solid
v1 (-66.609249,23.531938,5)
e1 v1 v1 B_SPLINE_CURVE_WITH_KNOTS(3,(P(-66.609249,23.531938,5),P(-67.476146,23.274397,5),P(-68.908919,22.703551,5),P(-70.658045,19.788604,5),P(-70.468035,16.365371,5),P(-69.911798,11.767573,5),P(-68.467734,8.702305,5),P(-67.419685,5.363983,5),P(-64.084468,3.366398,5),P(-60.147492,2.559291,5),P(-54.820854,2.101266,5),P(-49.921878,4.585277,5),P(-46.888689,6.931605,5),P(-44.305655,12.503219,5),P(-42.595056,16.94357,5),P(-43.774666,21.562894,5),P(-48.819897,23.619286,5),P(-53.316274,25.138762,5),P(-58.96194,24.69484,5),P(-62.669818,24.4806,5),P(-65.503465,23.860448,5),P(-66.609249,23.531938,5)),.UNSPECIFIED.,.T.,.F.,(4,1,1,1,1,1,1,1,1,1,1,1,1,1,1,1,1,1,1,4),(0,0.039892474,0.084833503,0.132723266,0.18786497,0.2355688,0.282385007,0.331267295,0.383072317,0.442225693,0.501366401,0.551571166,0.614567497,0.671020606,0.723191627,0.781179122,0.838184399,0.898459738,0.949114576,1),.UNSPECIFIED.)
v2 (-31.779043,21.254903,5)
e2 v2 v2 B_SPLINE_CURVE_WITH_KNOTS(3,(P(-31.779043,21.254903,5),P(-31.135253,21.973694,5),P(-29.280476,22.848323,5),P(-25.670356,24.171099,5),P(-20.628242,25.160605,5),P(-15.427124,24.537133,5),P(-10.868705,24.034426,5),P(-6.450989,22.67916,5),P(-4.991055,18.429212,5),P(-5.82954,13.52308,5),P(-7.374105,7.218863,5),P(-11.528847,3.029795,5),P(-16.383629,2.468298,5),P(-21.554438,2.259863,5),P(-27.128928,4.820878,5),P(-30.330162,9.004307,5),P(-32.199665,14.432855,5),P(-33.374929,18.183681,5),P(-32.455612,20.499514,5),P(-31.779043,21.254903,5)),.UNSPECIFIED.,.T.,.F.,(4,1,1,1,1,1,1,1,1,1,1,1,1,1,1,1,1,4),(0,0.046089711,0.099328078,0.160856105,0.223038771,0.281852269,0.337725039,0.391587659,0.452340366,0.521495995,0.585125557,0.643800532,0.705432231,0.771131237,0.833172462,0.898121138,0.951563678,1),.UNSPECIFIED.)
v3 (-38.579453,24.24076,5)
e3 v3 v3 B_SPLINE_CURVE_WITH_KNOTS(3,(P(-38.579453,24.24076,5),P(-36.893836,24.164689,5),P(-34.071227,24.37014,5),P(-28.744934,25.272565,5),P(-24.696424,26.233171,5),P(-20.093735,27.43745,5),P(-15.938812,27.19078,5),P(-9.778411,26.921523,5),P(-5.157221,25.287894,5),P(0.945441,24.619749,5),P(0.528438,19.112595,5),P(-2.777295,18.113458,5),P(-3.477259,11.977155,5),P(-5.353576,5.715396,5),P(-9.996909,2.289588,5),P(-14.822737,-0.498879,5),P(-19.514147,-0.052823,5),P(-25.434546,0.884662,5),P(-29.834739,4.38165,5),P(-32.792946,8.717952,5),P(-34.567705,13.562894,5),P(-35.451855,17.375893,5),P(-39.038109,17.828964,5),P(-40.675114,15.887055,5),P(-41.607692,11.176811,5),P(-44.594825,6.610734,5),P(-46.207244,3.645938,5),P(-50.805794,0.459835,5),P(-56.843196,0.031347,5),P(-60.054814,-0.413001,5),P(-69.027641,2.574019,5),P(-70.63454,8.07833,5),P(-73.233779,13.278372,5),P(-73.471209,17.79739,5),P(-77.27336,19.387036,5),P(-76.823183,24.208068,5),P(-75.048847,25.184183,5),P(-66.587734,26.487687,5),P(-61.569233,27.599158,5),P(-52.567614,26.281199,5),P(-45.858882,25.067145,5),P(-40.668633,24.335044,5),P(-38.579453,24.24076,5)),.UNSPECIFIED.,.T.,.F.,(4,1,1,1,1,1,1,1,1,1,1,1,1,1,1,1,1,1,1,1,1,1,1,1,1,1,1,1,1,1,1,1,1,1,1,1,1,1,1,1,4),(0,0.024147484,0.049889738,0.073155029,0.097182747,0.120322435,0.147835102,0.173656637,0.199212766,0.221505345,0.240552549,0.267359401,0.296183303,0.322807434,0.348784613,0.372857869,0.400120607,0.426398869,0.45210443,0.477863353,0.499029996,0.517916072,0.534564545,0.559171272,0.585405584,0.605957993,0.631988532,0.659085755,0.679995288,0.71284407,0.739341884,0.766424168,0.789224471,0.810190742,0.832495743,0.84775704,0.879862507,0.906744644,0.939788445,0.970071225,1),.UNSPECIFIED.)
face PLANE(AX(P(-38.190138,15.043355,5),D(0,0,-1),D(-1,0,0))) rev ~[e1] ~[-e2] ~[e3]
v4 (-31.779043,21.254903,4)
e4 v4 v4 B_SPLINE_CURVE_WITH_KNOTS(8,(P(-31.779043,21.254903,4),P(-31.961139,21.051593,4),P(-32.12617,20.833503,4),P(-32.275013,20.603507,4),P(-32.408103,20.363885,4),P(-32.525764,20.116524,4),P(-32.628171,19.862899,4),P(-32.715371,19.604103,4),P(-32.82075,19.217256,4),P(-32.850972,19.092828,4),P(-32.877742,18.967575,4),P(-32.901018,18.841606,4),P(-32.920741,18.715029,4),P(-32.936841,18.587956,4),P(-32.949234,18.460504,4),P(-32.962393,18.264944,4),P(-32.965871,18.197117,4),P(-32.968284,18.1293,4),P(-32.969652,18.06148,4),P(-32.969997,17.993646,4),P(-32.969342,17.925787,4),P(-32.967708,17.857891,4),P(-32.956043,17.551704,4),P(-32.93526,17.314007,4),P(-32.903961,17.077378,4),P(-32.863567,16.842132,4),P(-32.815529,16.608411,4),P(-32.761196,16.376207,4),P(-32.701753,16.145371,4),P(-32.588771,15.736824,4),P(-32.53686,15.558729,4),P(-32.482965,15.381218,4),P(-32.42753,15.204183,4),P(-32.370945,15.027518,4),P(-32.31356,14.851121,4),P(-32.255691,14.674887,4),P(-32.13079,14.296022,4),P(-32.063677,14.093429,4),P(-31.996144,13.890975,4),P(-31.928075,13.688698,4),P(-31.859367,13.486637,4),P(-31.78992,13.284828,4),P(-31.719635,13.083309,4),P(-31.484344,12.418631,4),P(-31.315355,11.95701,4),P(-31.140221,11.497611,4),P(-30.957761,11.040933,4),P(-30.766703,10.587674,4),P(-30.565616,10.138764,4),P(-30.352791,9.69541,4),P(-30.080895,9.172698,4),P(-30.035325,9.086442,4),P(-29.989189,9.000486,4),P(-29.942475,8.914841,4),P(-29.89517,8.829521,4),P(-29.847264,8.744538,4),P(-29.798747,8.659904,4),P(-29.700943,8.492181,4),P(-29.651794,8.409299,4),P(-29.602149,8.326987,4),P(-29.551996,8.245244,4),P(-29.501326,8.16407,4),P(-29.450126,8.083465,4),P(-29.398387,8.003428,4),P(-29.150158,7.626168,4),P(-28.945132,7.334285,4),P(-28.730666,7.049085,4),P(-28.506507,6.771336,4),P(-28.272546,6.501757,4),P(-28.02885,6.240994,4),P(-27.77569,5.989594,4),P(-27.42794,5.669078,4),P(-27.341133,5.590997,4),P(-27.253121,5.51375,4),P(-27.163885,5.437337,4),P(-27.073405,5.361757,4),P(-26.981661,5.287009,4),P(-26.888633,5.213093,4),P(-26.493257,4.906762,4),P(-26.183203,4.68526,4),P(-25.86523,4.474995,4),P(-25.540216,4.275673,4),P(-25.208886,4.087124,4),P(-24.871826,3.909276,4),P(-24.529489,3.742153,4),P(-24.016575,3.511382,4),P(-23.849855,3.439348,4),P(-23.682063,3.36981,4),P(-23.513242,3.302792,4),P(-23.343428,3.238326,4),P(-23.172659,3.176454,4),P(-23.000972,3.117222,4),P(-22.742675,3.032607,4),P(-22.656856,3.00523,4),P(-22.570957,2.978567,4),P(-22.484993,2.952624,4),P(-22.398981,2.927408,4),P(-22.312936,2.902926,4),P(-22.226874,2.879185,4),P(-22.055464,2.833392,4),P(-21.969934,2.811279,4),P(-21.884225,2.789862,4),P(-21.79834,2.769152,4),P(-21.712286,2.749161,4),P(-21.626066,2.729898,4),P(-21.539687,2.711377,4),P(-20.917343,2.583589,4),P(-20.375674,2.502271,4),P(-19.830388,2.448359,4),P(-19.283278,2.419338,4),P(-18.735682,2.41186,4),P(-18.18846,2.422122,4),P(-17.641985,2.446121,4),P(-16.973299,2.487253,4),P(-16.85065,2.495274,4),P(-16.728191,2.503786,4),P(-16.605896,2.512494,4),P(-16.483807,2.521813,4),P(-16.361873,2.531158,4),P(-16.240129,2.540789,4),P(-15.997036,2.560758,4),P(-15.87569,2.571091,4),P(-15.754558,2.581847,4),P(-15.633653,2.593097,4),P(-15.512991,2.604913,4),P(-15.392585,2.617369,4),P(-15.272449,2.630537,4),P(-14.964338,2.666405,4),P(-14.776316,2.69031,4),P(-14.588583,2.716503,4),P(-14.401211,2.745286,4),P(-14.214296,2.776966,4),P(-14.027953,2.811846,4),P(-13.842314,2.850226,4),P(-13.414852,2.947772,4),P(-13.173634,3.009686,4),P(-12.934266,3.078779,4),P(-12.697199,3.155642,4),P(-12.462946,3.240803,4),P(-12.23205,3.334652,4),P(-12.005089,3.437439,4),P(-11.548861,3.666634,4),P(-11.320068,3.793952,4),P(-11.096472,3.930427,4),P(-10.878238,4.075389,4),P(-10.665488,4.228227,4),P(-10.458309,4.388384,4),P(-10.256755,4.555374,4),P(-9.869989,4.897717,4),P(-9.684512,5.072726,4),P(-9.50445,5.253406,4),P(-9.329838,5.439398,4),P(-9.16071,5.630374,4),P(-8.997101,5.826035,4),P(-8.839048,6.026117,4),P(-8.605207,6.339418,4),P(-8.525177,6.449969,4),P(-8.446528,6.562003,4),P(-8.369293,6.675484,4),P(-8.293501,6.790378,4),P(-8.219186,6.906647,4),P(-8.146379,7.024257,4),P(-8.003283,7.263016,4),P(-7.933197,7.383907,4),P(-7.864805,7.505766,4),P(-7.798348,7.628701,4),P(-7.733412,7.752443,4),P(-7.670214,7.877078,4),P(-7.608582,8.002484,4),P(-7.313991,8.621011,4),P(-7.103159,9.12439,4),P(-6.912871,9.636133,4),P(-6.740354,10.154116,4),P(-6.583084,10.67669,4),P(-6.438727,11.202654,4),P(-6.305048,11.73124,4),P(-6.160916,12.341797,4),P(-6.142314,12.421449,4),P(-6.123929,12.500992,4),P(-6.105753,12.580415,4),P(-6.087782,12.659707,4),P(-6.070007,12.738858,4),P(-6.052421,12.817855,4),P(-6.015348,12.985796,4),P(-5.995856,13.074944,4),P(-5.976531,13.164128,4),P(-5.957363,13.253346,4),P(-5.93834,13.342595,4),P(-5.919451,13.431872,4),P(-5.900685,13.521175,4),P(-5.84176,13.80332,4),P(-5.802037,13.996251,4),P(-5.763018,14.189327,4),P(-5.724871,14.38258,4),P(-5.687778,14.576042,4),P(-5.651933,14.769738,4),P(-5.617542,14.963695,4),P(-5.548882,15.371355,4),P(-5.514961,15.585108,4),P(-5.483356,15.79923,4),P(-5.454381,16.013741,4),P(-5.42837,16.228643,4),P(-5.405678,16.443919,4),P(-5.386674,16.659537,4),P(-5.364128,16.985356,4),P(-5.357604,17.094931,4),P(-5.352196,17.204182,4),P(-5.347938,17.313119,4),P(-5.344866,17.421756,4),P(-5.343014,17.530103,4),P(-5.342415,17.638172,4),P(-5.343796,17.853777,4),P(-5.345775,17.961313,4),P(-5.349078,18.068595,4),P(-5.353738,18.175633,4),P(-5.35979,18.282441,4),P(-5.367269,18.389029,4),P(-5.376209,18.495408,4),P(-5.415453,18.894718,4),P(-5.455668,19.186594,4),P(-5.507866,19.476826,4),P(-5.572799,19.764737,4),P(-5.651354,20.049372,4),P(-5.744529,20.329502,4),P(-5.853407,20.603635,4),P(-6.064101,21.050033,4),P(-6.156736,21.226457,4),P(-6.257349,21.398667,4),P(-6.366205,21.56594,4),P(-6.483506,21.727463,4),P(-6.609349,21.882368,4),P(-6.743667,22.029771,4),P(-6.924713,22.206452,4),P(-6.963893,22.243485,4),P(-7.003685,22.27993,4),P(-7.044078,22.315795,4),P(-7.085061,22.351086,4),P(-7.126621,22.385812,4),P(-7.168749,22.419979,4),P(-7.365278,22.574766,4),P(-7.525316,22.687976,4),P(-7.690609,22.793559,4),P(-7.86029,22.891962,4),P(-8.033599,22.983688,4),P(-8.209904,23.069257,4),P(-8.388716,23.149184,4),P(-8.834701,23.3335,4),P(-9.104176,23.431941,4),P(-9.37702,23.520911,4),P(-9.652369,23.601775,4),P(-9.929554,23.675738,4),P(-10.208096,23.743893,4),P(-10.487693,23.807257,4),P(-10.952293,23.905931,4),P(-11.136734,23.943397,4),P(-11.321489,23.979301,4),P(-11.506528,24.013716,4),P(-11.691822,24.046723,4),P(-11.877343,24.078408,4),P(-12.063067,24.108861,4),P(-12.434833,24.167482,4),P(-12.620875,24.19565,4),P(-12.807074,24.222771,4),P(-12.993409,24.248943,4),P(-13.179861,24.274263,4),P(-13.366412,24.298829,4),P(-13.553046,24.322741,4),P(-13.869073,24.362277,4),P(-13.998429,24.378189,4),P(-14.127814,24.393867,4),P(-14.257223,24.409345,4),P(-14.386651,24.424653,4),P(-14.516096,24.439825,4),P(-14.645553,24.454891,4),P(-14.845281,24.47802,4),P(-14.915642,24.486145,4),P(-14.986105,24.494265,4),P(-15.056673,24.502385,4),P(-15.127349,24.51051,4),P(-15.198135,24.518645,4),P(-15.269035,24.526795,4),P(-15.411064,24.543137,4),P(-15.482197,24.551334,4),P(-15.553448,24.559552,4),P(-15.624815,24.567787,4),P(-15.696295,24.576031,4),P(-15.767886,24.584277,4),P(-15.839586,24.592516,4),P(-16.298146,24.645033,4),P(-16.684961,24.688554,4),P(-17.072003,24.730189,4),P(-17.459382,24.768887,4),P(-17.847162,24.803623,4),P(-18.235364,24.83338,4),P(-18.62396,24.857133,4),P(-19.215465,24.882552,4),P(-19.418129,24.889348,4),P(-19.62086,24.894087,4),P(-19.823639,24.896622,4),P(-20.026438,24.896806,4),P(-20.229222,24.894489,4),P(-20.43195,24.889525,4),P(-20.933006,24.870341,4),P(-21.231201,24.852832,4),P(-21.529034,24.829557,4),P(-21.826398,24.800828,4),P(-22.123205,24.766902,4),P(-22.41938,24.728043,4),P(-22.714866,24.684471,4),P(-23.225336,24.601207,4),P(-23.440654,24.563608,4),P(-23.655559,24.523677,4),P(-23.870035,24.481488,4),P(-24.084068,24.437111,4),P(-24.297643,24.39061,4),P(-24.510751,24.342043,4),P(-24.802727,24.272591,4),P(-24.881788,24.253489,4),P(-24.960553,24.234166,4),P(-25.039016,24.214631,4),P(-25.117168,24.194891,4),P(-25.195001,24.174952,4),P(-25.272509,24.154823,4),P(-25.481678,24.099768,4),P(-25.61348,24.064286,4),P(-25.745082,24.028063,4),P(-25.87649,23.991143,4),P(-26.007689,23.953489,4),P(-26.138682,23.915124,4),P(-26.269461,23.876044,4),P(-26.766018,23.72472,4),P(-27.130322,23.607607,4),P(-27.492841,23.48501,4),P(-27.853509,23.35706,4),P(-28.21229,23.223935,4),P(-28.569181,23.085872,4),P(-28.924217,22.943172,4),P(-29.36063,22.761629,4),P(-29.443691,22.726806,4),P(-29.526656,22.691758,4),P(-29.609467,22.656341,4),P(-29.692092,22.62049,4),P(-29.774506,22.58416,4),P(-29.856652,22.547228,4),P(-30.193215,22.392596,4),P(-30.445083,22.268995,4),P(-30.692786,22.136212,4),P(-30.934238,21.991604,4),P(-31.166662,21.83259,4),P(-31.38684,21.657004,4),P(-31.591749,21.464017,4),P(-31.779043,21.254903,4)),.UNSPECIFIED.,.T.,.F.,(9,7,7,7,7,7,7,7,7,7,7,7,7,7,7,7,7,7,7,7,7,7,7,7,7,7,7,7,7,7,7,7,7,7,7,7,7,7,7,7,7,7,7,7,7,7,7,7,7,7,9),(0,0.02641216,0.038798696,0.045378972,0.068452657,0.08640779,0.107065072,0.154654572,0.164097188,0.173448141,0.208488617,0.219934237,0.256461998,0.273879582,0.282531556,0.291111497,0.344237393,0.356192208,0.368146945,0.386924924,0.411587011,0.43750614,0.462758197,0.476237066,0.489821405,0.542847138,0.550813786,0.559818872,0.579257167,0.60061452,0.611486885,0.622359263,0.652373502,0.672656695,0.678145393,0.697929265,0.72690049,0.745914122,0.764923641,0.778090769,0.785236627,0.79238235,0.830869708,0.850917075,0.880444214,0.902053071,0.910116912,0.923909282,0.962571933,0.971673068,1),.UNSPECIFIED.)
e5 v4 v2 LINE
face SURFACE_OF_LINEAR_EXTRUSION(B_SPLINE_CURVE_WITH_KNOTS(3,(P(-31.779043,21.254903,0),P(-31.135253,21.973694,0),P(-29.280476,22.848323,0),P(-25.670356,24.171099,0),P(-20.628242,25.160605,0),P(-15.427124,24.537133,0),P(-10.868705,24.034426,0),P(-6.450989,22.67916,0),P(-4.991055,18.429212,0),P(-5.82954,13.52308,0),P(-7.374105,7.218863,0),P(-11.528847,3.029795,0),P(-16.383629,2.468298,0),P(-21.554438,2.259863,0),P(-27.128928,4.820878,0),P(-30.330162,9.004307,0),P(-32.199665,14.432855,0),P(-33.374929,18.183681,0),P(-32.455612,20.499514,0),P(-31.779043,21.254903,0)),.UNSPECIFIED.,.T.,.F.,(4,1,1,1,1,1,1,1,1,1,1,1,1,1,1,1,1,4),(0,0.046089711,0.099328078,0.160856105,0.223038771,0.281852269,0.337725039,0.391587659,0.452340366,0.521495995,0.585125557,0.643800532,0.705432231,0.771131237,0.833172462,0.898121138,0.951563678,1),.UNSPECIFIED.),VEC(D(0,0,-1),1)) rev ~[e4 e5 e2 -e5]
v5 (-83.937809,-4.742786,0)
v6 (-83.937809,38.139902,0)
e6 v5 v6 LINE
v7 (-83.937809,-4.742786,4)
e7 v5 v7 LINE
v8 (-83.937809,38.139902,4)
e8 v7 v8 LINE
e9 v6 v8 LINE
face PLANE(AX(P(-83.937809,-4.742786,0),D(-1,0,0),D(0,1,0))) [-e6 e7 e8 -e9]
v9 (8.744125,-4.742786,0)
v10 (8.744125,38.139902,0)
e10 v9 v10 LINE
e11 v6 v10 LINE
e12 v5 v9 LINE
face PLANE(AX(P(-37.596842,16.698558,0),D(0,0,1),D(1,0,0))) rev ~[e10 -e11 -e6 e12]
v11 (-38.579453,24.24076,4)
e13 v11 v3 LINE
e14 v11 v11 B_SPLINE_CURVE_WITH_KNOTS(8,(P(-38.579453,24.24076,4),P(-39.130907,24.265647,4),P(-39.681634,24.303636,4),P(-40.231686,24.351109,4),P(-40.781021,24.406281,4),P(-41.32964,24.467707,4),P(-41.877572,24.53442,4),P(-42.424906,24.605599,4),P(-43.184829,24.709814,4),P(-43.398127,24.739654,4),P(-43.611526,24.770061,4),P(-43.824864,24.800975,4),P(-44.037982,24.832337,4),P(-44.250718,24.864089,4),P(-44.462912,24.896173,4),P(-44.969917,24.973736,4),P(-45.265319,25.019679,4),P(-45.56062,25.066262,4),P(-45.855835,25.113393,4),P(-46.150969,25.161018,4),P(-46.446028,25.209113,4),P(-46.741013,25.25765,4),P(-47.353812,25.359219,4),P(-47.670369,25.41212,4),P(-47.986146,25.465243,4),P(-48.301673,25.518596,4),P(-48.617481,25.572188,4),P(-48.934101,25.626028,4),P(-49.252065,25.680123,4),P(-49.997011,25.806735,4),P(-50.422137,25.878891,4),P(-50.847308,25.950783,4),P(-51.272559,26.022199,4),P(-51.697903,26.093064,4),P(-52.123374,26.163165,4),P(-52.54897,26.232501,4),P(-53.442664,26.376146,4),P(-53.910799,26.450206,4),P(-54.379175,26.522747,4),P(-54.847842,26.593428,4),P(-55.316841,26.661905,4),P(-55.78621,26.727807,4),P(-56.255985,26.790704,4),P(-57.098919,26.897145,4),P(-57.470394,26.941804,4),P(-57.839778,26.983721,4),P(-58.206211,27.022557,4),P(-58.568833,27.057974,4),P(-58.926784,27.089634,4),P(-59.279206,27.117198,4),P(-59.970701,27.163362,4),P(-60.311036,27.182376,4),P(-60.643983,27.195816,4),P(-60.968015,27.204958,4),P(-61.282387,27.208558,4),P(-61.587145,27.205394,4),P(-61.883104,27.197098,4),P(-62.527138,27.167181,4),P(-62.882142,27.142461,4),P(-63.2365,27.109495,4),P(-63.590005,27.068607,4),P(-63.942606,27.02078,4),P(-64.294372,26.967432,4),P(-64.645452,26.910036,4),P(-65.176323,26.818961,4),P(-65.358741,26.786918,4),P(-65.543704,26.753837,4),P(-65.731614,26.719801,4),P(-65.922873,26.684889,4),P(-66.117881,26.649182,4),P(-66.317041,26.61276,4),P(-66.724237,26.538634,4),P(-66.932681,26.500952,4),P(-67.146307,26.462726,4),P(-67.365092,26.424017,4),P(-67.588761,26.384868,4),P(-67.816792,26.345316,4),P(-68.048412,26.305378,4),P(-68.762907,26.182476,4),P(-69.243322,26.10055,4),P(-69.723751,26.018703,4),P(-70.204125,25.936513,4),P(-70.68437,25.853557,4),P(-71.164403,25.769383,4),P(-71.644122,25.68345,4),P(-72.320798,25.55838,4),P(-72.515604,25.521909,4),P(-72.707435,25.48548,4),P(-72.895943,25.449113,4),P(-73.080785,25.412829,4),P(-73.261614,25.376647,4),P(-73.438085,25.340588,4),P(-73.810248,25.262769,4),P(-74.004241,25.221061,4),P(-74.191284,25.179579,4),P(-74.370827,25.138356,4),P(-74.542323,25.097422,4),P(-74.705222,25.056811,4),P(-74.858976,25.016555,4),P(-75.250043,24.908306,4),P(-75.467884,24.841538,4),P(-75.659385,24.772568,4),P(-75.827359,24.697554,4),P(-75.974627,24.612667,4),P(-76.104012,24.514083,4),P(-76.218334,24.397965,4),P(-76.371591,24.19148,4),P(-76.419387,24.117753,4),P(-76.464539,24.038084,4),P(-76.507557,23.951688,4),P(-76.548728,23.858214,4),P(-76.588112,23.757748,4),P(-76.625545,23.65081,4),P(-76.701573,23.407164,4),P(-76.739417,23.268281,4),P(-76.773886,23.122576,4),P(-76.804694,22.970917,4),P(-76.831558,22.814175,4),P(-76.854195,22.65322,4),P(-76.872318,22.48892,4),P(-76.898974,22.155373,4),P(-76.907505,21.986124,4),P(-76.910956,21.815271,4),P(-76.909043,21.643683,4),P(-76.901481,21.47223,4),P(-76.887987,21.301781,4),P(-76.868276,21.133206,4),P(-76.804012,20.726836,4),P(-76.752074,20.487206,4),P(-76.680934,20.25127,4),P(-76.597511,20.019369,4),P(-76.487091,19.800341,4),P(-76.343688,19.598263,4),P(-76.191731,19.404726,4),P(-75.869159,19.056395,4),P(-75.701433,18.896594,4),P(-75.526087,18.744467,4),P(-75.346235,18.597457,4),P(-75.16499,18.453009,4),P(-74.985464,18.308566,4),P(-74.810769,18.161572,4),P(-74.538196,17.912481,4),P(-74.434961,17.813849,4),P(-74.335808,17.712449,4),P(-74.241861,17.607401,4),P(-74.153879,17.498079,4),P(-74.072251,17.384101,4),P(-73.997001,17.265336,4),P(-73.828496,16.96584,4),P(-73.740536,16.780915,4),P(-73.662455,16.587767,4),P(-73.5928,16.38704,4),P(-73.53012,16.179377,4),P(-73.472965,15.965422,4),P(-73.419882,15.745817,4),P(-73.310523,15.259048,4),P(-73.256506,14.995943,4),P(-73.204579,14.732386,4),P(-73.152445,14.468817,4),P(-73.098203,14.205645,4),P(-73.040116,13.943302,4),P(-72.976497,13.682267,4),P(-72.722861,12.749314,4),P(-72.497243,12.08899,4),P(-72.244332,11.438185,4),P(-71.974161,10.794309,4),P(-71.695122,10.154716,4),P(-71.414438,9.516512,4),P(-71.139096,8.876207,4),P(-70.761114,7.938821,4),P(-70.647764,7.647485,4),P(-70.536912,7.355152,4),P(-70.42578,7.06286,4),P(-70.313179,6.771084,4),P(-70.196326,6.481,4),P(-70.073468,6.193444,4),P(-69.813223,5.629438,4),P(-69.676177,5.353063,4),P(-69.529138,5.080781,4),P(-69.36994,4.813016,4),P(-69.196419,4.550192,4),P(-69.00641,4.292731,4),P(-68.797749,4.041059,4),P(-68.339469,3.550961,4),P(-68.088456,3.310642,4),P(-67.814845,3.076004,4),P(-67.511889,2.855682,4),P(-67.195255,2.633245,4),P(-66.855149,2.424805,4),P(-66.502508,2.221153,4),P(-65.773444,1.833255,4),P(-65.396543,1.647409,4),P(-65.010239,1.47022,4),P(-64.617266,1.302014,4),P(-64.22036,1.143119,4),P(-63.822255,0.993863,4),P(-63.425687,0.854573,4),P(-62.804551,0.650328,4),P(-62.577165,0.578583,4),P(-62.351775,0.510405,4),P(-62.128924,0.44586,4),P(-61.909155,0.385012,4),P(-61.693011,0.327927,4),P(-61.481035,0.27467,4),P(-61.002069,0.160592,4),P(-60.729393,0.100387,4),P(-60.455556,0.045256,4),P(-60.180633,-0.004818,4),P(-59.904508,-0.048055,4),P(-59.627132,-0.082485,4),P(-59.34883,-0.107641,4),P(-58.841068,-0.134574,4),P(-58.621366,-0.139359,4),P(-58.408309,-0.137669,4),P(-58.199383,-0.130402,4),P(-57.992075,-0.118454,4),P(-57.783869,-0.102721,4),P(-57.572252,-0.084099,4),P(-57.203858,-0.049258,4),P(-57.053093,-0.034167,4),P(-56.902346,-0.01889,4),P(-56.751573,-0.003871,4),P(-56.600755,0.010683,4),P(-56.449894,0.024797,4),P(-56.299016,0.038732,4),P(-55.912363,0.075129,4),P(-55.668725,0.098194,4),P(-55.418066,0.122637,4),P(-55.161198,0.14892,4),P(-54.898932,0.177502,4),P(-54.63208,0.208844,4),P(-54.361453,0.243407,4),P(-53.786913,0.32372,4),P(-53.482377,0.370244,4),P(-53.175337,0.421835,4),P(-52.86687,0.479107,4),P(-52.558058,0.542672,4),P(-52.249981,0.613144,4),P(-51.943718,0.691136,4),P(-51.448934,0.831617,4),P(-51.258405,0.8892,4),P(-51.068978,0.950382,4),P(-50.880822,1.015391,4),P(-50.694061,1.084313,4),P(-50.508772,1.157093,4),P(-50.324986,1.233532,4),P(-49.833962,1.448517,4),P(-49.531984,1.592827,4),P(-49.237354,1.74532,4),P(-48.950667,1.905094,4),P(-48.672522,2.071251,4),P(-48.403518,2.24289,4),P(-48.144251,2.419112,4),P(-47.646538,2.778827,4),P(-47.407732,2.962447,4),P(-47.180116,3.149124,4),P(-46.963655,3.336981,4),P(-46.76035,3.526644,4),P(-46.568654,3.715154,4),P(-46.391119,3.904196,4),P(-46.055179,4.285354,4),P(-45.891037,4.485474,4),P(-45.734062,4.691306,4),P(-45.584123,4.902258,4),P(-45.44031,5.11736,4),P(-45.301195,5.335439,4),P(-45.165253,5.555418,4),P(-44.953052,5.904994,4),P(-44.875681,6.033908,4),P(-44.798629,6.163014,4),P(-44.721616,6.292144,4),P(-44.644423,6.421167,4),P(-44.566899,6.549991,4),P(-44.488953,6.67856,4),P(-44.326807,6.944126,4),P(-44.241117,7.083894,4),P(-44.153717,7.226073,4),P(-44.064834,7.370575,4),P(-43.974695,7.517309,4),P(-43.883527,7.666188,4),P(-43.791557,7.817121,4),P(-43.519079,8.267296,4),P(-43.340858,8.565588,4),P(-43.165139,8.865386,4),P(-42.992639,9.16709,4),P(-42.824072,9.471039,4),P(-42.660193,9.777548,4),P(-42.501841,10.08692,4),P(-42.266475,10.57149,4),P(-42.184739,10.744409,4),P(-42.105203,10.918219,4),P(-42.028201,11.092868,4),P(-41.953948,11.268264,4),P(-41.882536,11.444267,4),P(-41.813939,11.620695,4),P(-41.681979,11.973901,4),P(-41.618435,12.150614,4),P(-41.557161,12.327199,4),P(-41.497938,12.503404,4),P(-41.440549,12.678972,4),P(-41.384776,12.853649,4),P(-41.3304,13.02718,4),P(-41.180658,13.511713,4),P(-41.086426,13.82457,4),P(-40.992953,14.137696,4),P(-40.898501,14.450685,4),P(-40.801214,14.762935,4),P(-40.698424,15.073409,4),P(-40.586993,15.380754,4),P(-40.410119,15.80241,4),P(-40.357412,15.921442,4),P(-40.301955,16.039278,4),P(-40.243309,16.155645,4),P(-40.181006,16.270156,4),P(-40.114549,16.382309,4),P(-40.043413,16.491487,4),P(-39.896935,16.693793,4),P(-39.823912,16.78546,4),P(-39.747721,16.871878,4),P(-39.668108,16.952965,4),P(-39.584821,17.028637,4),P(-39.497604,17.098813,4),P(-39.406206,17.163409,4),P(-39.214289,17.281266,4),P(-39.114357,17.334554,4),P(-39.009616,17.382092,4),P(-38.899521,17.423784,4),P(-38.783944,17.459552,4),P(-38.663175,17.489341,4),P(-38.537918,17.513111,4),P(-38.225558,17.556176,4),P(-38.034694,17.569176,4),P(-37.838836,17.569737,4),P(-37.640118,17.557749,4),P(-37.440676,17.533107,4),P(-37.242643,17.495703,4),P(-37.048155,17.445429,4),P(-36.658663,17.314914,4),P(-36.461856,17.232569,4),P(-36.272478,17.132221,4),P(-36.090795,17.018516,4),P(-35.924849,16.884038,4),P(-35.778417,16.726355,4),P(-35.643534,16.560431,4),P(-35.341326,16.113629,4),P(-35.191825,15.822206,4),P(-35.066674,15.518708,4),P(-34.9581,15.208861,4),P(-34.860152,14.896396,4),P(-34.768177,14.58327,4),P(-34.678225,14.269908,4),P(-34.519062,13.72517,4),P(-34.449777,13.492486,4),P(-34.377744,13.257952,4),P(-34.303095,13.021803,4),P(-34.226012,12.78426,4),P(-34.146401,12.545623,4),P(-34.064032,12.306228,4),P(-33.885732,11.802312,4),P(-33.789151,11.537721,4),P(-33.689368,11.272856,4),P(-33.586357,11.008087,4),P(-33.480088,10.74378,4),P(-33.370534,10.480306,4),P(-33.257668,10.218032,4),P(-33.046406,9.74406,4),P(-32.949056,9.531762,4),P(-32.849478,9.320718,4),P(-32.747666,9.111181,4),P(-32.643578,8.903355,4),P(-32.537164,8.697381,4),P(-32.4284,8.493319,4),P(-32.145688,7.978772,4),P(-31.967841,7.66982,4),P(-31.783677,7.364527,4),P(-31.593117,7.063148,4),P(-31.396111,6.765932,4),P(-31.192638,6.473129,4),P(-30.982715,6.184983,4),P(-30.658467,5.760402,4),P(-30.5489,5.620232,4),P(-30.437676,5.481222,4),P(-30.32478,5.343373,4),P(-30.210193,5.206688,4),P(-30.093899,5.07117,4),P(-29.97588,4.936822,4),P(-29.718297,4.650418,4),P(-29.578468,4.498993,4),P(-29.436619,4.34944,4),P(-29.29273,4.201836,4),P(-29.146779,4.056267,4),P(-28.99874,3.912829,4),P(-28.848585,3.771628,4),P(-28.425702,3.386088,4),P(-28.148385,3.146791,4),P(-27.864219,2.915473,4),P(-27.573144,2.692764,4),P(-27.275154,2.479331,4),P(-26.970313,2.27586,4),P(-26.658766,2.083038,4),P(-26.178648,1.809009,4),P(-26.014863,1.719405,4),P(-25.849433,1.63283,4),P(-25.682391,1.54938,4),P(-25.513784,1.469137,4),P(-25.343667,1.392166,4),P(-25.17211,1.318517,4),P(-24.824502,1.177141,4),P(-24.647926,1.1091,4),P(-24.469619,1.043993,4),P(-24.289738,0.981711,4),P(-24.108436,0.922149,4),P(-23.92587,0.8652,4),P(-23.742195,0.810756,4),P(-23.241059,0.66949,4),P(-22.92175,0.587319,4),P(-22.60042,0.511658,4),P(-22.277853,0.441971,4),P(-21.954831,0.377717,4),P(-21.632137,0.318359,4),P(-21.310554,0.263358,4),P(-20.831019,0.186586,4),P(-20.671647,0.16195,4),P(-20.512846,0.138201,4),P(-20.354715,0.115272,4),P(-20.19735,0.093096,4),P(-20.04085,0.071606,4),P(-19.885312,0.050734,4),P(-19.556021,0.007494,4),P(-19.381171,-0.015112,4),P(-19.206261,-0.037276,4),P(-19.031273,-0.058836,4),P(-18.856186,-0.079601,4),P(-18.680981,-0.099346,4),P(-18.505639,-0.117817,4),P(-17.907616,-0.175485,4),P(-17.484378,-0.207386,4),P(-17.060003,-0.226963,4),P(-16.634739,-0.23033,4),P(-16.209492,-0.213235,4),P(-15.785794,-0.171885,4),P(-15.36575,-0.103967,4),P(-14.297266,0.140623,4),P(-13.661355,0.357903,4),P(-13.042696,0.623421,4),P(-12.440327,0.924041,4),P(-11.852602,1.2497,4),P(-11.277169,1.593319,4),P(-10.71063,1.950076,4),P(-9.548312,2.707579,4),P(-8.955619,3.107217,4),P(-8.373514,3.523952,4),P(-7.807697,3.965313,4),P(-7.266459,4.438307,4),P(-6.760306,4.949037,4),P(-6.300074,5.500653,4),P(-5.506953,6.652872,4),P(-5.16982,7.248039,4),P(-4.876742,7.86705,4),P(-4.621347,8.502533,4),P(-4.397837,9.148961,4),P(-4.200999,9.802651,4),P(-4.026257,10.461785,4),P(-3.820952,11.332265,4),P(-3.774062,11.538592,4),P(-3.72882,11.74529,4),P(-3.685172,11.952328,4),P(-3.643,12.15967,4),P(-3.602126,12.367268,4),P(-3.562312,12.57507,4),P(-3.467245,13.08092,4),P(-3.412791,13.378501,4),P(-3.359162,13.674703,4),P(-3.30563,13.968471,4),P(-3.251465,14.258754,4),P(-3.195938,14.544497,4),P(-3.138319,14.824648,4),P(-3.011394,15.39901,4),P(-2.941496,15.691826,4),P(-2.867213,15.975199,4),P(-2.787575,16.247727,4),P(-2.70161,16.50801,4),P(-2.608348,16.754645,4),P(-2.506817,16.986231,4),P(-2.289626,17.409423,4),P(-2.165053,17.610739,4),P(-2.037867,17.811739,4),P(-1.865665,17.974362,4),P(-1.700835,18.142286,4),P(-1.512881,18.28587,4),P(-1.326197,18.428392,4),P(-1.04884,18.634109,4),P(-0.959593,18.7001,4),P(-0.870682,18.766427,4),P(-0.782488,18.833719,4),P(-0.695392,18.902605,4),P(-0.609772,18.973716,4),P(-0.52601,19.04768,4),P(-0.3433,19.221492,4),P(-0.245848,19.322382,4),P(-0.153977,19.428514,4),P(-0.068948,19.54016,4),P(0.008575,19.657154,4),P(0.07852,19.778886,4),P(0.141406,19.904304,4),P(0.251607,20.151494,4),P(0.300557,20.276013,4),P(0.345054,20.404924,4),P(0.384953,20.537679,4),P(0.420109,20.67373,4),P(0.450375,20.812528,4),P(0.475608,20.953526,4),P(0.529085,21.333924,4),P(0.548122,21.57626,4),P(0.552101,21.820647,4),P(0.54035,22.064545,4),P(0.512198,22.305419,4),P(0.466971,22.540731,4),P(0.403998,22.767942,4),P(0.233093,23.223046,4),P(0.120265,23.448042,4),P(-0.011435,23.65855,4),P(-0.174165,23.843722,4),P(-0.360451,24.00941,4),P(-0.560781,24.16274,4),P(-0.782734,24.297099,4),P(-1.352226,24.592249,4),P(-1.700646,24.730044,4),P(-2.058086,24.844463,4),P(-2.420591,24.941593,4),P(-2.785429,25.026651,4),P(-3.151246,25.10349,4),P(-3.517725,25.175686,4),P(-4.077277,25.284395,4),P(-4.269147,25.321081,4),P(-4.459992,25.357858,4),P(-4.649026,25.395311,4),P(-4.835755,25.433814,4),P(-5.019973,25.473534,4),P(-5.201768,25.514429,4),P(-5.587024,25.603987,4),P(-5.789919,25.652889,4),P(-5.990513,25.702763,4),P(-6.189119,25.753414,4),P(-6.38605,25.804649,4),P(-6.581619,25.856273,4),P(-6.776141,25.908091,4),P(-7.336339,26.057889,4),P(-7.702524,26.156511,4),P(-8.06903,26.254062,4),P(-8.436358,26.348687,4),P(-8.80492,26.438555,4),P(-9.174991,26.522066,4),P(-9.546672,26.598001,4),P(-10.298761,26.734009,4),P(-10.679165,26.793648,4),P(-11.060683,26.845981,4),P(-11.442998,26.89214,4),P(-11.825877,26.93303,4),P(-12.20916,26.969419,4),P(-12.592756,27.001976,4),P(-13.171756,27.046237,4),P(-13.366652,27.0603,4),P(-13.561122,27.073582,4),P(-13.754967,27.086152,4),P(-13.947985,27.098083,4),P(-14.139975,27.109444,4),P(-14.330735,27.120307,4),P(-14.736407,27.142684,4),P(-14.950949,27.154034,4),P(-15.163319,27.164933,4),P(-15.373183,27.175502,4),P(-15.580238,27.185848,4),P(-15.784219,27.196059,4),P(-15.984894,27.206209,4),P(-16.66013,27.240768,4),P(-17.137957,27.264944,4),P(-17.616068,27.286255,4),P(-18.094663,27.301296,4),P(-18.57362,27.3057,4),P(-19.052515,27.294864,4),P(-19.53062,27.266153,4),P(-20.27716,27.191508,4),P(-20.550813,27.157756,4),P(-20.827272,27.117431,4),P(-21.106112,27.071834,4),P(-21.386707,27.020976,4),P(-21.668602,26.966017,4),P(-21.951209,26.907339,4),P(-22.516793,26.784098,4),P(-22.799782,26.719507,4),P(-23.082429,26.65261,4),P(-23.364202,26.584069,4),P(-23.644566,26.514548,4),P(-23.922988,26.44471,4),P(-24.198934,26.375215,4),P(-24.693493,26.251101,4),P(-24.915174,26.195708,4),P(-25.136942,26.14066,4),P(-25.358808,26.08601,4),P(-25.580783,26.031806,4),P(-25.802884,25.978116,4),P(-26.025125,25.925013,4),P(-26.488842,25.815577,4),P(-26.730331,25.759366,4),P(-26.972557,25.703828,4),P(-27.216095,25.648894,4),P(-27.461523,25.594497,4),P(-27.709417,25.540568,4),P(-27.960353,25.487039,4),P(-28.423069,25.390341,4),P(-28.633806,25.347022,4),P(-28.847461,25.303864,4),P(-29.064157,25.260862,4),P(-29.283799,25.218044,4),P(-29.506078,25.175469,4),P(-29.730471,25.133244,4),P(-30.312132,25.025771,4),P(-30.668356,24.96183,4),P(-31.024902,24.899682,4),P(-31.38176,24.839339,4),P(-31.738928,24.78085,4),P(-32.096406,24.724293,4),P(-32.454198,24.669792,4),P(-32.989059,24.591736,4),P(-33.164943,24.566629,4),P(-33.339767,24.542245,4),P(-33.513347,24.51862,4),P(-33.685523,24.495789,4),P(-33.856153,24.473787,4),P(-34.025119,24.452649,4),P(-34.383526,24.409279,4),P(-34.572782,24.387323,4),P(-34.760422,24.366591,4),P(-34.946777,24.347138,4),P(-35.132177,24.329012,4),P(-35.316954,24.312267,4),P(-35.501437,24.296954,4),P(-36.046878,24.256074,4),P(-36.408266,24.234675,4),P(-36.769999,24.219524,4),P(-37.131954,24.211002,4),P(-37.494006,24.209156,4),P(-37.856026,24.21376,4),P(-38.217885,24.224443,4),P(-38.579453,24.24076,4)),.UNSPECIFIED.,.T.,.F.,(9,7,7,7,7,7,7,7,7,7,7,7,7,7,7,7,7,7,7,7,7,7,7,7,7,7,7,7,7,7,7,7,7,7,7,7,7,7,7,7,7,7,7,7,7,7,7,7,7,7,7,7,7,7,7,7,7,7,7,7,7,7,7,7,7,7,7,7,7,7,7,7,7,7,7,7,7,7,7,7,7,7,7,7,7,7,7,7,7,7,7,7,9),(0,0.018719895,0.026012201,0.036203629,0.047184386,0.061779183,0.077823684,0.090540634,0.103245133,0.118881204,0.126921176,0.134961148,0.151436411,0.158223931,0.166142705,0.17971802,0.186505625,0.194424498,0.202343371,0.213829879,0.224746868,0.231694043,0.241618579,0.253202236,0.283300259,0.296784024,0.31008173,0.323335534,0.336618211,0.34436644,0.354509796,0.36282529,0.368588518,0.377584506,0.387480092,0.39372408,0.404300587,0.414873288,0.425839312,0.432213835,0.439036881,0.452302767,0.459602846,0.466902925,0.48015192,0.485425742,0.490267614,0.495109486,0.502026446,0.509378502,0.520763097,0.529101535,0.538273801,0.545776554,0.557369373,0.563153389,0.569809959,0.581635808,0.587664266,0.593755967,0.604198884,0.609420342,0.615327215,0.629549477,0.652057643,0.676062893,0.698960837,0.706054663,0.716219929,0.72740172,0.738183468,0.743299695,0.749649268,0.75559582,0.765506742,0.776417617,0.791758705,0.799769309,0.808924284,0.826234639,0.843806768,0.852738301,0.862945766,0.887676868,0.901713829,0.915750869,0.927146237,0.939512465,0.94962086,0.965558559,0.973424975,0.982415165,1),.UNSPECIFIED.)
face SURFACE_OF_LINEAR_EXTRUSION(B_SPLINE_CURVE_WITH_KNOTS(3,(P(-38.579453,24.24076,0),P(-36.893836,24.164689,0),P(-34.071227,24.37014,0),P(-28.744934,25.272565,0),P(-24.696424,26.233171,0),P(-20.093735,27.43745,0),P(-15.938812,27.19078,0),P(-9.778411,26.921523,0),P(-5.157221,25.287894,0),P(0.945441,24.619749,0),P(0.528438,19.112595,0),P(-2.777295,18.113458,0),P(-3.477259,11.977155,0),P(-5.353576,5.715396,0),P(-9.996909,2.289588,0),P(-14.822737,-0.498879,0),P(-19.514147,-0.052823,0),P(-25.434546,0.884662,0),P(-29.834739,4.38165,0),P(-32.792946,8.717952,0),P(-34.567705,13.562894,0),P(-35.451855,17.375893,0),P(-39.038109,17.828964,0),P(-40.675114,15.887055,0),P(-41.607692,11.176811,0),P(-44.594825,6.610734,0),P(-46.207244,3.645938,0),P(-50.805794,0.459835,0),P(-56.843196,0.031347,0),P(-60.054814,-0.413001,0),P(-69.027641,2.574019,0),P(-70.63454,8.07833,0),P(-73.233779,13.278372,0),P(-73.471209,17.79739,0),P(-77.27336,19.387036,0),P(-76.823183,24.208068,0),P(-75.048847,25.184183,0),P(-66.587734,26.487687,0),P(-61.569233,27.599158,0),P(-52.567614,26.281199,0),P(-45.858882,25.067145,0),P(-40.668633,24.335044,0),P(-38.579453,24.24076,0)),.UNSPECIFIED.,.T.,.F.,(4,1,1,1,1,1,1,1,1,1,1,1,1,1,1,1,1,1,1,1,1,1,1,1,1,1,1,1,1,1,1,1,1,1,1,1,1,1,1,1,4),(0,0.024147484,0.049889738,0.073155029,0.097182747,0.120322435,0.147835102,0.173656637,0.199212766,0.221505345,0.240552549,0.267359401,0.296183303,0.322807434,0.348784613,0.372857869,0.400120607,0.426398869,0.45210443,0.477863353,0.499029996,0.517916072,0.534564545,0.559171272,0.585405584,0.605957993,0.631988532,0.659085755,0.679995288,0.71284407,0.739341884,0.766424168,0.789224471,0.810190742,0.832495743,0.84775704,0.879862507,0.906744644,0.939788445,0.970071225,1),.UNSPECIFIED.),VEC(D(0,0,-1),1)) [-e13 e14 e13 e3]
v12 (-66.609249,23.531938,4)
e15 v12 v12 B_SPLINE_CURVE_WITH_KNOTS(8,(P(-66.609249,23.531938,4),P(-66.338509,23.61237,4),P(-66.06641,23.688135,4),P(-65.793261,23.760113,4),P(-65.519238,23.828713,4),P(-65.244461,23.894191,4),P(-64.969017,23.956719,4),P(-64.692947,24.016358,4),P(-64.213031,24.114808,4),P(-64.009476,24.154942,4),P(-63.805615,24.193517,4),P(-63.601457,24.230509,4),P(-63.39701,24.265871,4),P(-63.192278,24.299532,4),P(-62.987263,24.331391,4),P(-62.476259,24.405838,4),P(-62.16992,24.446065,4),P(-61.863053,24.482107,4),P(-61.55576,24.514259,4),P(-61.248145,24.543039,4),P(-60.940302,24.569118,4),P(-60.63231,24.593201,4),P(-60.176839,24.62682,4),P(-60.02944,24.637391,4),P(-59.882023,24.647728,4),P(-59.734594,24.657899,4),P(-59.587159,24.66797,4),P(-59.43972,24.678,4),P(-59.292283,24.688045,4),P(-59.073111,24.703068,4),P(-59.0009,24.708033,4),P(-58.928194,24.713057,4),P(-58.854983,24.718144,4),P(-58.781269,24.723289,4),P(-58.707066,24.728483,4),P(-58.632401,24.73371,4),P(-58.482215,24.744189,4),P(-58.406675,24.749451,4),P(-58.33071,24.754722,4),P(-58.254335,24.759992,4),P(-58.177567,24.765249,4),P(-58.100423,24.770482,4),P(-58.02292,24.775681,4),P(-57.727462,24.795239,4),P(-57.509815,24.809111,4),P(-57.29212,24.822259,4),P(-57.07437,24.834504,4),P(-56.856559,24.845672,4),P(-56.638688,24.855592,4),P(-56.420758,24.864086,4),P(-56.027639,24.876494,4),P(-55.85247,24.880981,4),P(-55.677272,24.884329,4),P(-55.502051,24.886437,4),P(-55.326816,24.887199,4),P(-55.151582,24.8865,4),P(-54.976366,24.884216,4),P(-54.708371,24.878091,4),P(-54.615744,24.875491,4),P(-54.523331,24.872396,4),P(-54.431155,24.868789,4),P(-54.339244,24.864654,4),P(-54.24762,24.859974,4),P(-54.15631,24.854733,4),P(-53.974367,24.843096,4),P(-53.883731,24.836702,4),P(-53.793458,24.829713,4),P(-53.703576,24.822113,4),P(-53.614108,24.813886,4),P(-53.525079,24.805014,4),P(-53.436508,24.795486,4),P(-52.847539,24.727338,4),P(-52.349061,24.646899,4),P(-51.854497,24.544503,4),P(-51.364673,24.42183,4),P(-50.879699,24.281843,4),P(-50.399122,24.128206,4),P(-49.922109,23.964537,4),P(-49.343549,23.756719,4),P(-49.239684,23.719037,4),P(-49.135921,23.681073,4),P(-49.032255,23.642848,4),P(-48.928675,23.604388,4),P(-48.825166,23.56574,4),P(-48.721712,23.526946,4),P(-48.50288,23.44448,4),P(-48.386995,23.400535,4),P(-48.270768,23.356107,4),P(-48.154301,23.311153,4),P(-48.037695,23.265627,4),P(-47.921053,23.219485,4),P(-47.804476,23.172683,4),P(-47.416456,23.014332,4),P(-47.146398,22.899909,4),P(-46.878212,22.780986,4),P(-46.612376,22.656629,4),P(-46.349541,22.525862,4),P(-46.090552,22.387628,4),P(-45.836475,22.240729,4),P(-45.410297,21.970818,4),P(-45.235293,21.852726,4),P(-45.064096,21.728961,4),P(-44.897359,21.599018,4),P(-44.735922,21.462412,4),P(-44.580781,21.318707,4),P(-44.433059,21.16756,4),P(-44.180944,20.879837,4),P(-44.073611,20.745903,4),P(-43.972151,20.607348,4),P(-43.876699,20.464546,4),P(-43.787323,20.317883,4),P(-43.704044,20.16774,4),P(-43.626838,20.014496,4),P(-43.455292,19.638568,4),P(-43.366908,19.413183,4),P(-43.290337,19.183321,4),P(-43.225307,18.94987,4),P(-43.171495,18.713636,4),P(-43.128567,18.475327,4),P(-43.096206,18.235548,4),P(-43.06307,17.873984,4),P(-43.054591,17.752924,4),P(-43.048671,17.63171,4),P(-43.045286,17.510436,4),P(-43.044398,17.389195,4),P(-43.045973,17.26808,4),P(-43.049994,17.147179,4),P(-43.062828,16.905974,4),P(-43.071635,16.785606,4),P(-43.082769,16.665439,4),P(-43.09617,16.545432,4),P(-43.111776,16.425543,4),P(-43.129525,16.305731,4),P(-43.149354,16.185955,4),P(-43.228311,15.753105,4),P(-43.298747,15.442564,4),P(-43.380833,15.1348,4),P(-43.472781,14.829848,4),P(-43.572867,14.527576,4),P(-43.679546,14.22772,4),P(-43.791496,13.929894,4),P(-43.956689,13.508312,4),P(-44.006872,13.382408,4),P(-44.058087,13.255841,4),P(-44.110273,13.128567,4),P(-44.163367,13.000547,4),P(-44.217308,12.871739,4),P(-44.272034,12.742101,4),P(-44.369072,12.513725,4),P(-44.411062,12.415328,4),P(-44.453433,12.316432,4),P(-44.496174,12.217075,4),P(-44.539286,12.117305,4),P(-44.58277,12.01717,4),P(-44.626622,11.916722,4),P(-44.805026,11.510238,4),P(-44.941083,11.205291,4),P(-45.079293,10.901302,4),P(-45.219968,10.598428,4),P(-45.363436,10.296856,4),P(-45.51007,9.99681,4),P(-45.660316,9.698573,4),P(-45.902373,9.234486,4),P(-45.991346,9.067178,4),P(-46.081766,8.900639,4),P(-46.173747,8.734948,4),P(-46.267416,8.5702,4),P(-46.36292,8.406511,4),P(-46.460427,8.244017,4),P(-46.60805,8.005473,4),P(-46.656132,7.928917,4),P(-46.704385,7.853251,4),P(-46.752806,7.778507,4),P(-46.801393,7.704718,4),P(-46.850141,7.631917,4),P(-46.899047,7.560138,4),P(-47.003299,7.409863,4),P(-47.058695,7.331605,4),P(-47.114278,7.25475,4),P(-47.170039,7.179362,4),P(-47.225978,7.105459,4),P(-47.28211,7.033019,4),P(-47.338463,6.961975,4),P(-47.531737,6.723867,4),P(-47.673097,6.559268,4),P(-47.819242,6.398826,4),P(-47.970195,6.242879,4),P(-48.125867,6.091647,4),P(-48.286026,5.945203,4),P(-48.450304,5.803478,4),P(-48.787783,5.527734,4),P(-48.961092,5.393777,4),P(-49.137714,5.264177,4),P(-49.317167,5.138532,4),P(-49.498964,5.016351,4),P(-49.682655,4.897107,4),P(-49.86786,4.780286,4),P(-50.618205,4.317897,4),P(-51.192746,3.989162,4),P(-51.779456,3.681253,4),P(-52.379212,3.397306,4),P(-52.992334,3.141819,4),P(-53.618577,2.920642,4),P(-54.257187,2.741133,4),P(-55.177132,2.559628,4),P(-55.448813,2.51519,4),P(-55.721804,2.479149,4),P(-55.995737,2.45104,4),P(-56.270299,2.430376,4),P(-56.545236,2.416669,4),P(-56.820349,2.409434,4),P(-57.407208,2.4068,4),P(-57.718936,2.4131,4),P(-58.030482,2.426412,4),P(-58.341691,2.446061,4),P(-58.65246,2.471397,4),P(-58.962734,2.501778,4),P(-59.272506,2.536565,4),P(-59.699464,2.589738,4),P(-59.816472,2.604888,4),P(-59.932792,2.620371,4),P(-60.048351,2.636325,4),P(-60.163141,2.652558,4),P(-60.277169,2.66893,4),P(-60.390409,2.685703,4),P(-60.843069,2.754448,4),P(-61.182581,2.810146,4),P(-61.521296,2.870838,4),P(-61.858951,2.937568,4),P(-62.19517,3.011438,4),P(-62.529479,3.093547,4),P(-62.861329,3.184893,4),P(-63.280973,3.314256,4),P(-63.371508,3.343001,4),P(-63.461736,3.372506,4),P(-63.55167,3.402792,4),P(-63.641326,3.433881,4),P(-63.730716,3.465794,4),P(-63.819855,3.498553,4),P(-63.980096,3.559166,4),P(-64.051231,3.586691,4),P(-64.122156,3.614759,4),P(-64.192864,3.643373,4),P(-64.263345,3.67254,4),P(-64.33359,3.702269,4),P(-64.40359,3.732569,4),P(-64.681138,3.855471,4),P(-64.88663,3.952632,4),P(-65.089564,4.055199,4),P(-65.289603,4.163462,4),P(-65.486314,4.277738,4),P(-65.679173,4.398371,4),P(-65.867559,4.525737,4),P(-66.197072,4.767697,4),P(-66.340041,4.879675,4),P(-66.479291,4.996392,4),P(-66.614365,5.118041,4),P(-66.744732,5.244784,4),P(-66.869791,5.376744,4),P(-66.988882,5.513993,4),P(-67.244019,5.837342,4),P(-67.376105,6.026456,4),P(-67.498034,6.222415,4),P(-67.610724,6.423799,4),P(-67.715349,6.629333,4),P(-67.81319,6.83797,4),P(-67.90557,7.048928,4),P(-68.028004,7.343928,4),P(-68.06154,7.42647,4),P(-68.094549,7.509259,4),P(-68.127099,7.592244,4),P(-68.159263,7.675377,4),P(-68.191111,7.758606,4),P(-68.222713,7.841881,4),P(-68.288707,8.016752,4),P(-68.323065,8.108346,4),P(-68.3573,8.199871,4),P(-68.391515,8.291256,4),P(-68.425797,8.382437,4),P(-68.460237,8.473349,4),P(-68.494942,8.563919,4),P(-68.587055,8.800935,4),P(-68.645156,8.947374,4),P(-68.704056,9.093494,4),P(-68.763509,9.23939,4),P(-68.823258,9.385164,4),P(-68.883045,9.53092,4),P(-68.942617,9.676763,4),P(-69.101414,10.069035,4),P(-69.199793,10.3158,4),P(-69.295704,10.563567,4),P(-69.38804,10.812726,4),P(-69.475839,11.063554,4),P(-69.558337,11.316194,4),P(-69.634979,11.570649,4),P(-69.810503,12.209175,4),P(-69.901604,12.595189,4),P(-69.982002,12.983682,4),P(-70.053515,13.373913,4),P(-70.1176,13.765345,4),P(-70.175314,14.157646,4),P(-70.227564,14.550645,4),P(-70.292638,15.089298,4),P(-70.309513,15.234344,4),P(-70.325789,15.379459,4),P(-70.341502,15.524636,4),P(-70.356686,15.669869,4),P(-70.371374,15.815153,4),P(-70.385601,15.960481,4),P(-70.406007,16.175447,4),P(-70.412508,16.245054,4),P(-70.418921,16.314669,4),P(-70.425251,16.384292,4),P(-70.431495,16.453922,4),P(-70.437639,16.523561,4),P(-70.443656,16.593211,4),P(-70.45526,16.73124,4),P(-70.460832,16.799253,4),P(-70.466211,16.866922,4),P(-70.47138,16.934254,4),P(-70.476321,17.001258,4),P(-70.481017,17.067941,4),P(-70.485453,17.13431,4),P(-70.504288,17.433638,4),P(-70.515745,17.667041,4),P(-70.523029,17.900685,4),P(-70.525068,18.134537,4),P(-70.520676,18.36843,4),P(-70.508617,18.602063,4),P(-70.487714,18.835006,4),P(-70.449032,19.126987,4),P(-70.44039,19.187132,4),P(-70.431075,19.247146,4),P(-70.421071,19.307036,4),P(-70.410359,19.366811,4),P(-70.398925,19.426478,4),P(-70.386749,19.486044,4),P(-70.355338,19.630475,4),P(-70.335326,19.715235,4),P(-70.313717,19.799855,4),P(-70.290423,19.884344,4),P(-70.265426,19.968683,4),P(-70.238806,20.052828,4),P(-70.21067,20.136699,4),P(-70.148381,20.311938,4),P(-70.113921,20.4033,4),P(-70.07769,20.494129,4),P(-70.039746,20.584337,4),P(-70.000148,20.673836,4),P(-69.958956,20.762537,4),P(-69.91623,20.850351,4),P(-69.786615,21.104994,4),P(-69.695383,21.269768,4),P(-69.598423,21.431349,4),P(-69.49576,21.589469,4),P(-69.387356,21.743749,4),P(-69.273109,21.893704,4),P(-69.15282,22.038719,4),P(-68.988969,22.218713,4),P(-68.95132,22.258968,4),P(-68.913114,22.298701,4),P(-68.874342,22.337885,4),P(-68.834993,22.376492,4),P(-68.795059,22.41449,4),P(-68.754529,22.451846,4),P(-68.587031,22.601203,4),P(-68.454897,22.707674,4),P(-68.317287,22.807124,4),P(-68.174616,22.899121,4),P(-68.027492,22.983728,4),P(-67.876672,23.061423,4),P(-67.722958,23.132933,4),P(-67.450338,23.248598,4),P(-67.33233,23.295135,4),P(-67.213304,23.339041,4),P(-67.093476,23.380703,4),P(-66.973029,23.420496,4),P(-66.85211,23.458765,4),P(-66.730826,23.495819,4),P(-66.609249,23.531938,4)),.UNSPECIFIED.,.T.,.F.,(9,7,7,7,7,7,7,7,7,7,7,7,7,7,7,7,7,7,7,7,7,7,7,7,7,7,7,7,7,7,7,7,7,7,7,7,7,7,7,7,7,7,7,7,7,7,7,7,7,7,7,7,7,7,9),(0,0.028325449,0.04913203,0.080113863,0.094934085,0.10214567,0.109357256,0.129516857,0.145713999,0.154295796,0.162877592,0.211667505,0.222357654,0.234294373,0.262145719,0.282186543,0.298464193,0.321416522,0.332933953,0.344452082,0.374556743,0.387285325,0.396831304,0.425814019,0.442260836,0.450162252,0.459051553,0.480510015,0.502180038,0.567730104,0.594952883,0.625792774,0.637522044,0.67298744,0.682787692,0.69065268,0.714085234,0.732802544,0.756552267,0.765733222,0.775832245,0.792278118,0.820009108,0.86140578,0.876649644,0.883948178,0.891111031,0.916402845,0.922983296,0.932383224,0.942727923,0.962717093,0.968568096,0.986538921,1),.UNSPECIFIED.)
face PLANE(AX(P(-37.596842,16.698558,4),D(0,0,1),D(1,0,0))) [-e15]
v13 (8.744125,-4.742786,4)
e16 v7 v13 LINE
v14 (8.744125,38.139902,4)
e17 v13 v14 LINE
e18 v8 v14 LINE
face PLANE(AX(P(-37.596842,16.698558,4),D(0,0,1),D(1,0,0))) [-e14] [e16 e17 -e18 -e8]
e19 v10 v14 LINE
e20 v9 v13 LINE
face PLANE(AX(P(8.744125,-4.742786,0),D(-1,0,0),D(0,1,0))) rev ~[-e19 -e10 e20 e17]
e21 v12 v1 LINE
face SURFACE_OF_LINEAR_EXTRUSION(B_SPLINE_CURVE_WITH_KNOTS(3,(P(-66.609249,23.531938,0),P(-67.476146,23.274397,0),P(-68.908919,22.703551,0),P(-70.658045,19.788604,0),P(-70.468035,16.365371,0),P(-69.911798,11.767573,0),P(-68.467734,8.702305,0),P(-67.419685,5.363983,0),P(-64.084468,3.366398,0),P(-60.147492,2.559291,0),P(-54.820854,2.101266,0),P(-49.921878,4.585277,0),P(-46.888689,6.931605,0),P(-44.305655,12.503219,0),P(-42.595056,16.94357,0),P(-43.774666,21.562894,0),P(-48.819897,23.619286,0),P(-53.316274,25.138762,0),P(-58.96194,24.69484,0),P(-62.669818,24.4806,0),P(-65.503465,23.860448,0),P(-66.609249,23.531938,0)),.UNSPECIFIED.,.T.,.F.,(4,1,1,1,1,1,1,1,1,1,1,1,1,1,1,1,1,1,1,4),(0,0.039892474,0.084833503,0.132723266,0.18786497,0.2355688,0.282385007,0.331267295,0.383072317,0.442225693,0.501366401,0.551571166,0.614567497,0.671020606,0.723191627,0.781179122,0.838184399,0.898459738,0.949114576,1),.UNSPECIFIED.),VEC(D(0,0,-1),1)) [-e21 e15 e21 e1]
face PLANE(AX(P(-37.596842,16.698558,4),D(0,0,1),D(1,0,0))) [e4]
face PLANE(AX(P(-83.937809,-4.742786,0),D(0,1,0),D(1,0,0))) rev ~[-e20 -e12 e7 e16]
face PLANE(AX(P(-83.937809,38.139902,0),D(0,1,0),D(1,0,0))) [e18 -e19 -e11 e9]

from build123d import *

# Parameters (mm, degrees)
F1_DEPTH = 5
F2_W     = 92.6819341257
F2_H     = 42.8826878779
F3_DEPTH = 4


with BuildPart() as f1:
    # F0 (on Top) → F1 (new body)
    with BuildSketch(Plane.XY):
        with BuildLine():
            add(Edge.make_bspline(
                [(-38.5794527829, 24.2407601327), (-36.8938359657, 24.1646889377), (-34.0712271397, 24.3701397917), (-28.7449336503, 25.2725649481), (-24.6964236408, 26.233170797), (-20.0937351066, 27.4374504094), (-15.9388121782, 27.1907800467), (-9.7784106854, 26.9215230295), (-5.1572212989, 25.2878939395), (0.9454413275, 24.6197493885), (0.5284380254, 19.1125949977), (-2.7772947075, 18.1134582068), (-3.4772585982, 11.9771551568), (-5.3535759298, 5.7153961302), (-9.9969087832, 2.2895875239), (-14.8227365622, -0.4988788856), (-19.5141472301, -0.0528227384), (-25.434546306, 0.8846617395), (-29.8347389018, 4.3816497471), (-32.7929461918, 8.7179524801), (-34.5677049198, 13.5628935911), (-35.4518550311, 17.3758928026), (-39.0381090092, 17.8289636328), (-40.6751139591, 15.8870554399), (-41.6076919366, 11.1768105438), (-44.5948251246, 6.6107335821), (-46.2072444153, 3.6459383205), (-50.8057943554, 0.4598349112), (-56.8431956147, 0.0313466232), (-60.0548137757, -0.4130011603), (-69.0276406889, 2.5740187249), (-70.6345398481, 8.0783303504), (-73.2337788323, 13.2783723041), (-73.4712085199, 17.7973904612), (-77.2733596066, 19.3870364009), (-76.8231832018, 24.2080677076), (-75.0488474945, 25.1841828262), (-66.5877341579, 26.487686587), (-61.5692334882, 27.5991577961), (-52.5676144362, 26.2811993145), (-45.8588823668, 25.0671448707), (-40.6686330251, 24.3350439793), (-38.5794527829, 24.2407601327)],
                knots=[0, 0, 0, 0, 0.0241474843, 0.0498897382, 0.073155029, 0.0971827474, 0.1203224345, 0.1478351024, 0.1736566374, 0.1992127659, 0.221505345, 0.2405525489, 0.2673594014, 0.2961833033, 0.3228074342, 0.3487846126, 0.3728578694, 0.4001206074, 0.426398869, 0.4521044299, 0.4778633525, 0.4990299956, 0.5179160719, 0.5345645452, 0.5591712716, 0.5854055844, 0.6059579933, 0.6319885323, 0.6590857553, 0.6799952881, 0.7128440696, 0.7393418837, 0.7664241679, 0.7892244711, 0.8101907416, 0.8324957432, 0.8477570402, 0.8798625069, 0.9067446437, 0.9397884446, 0.9700712246, 1, 1, 1, 1], degree=3))
        make_face()
        with BuildLine():
            add(Edge.make_bspline(
                [(-66.6092485189, 23.5319379717), (-67.4761459535, 23.2743972607), (-68.9089194071, 22.7035505917), (-70.6580452843, 19.788604104), (-70.4680350186, 16.3653713859), (-69.911797862, 11.7675728026), (-68.4677341297, 8.7023053291), (-67.4196852434, 5.3639826527), (-64.0844675017, 3.3663977702), (-60.1474924991, 2.5592913516), (-54.8208538912, 2.1012659041), (-49.9218780566, 4.5852766382), (-46.8886891471, 6.9316046041), (-44.3056551544, 12.5032192651), (-42.5950564538, 16.9435696955), (-43.7746657721, 21.562893885), (-48.8198971089, 23.6192863678), (-53.3162741575, 25.1387621952), (-58.961939921, 24.6948398011), (-62.6698175214, 24.4805997736), (-65.5034649161, 23.860447763), (-66.6092485189, 23.5319379717)],
                knots=[0, 0, 0, 0, 0.0398924743, 0.0848335033, 0.1327232656, 0.1878649696, 0.2355687995, 0.2823850067, 0.3312672951, 0.3830723168, 0.442225693, 0.5013664008, 0.5515711662, 0.6145674966, 0.6710206065, 0.7231916265, 0.781179122, 0.8381843985, 0.8984597376, 0.9491145755, 1, 1, 1, 1], degree=3))
        make_face(mode=Mode.SUBTRACT)
        with BuildLine():
            add(Edge.make_bspline(
                [(-31.7790433764, 21.2549027056), (-31.1352528122, 21.9736944803), (-29.280476361, 22.8483230083), (-25.6703564873, 24.1710988323), (-20.6282420244, 25.1606047265), (-15.4271239564, 24.537132683), (-10.8687049858, 24.0344262508), (-6.450988844, 22.6791600578), (-4.9910545683, 18.4292115555), (-5.8295398098, 13.5230801073), (-7.3741047676, 7.2188627173), (-11.5288468292, 3.0297945275), (-16.3836291345, 2.468297857), (-21.5544379242, 2.2598627037), (-27.1289275074, 4.820878216), (-30.3301621747, 9.0043067098), (-32.1996654778, 14.432855173), (-33.3749286044, 18.183681145), (-32.4556118871, 20.4995143736), (-31.7790433764, 21.2549027056)],
                knots=[0, 0, 0, 0, 0.0460897108, 0.0993280782, 0.1608561053, 0.2230387712, 0.2818522689, 0.3377250388, 0.3915876586, 0.4523403658, 0.5214959951, 0.5851255575, 0.6438005318, 0.7054322314, 0.7711312371, 0.8331724625, 0.8981211383, 0.9515636781, 1, 1, 1, 1], degree=3))
        make_face(mode=Mode.SUBTRACT)
    extrude(amount=F1_DEPTH)

    # F2 (on Top) → F3 (join)
    with BuildSketch(Plane.XY):
        with Locations((-37.5968418084, 16.6985581163)):
            Rectangle(F2_W, F2_H)
    extrude(amount=F3_DEPTH)


solid = f1.part
